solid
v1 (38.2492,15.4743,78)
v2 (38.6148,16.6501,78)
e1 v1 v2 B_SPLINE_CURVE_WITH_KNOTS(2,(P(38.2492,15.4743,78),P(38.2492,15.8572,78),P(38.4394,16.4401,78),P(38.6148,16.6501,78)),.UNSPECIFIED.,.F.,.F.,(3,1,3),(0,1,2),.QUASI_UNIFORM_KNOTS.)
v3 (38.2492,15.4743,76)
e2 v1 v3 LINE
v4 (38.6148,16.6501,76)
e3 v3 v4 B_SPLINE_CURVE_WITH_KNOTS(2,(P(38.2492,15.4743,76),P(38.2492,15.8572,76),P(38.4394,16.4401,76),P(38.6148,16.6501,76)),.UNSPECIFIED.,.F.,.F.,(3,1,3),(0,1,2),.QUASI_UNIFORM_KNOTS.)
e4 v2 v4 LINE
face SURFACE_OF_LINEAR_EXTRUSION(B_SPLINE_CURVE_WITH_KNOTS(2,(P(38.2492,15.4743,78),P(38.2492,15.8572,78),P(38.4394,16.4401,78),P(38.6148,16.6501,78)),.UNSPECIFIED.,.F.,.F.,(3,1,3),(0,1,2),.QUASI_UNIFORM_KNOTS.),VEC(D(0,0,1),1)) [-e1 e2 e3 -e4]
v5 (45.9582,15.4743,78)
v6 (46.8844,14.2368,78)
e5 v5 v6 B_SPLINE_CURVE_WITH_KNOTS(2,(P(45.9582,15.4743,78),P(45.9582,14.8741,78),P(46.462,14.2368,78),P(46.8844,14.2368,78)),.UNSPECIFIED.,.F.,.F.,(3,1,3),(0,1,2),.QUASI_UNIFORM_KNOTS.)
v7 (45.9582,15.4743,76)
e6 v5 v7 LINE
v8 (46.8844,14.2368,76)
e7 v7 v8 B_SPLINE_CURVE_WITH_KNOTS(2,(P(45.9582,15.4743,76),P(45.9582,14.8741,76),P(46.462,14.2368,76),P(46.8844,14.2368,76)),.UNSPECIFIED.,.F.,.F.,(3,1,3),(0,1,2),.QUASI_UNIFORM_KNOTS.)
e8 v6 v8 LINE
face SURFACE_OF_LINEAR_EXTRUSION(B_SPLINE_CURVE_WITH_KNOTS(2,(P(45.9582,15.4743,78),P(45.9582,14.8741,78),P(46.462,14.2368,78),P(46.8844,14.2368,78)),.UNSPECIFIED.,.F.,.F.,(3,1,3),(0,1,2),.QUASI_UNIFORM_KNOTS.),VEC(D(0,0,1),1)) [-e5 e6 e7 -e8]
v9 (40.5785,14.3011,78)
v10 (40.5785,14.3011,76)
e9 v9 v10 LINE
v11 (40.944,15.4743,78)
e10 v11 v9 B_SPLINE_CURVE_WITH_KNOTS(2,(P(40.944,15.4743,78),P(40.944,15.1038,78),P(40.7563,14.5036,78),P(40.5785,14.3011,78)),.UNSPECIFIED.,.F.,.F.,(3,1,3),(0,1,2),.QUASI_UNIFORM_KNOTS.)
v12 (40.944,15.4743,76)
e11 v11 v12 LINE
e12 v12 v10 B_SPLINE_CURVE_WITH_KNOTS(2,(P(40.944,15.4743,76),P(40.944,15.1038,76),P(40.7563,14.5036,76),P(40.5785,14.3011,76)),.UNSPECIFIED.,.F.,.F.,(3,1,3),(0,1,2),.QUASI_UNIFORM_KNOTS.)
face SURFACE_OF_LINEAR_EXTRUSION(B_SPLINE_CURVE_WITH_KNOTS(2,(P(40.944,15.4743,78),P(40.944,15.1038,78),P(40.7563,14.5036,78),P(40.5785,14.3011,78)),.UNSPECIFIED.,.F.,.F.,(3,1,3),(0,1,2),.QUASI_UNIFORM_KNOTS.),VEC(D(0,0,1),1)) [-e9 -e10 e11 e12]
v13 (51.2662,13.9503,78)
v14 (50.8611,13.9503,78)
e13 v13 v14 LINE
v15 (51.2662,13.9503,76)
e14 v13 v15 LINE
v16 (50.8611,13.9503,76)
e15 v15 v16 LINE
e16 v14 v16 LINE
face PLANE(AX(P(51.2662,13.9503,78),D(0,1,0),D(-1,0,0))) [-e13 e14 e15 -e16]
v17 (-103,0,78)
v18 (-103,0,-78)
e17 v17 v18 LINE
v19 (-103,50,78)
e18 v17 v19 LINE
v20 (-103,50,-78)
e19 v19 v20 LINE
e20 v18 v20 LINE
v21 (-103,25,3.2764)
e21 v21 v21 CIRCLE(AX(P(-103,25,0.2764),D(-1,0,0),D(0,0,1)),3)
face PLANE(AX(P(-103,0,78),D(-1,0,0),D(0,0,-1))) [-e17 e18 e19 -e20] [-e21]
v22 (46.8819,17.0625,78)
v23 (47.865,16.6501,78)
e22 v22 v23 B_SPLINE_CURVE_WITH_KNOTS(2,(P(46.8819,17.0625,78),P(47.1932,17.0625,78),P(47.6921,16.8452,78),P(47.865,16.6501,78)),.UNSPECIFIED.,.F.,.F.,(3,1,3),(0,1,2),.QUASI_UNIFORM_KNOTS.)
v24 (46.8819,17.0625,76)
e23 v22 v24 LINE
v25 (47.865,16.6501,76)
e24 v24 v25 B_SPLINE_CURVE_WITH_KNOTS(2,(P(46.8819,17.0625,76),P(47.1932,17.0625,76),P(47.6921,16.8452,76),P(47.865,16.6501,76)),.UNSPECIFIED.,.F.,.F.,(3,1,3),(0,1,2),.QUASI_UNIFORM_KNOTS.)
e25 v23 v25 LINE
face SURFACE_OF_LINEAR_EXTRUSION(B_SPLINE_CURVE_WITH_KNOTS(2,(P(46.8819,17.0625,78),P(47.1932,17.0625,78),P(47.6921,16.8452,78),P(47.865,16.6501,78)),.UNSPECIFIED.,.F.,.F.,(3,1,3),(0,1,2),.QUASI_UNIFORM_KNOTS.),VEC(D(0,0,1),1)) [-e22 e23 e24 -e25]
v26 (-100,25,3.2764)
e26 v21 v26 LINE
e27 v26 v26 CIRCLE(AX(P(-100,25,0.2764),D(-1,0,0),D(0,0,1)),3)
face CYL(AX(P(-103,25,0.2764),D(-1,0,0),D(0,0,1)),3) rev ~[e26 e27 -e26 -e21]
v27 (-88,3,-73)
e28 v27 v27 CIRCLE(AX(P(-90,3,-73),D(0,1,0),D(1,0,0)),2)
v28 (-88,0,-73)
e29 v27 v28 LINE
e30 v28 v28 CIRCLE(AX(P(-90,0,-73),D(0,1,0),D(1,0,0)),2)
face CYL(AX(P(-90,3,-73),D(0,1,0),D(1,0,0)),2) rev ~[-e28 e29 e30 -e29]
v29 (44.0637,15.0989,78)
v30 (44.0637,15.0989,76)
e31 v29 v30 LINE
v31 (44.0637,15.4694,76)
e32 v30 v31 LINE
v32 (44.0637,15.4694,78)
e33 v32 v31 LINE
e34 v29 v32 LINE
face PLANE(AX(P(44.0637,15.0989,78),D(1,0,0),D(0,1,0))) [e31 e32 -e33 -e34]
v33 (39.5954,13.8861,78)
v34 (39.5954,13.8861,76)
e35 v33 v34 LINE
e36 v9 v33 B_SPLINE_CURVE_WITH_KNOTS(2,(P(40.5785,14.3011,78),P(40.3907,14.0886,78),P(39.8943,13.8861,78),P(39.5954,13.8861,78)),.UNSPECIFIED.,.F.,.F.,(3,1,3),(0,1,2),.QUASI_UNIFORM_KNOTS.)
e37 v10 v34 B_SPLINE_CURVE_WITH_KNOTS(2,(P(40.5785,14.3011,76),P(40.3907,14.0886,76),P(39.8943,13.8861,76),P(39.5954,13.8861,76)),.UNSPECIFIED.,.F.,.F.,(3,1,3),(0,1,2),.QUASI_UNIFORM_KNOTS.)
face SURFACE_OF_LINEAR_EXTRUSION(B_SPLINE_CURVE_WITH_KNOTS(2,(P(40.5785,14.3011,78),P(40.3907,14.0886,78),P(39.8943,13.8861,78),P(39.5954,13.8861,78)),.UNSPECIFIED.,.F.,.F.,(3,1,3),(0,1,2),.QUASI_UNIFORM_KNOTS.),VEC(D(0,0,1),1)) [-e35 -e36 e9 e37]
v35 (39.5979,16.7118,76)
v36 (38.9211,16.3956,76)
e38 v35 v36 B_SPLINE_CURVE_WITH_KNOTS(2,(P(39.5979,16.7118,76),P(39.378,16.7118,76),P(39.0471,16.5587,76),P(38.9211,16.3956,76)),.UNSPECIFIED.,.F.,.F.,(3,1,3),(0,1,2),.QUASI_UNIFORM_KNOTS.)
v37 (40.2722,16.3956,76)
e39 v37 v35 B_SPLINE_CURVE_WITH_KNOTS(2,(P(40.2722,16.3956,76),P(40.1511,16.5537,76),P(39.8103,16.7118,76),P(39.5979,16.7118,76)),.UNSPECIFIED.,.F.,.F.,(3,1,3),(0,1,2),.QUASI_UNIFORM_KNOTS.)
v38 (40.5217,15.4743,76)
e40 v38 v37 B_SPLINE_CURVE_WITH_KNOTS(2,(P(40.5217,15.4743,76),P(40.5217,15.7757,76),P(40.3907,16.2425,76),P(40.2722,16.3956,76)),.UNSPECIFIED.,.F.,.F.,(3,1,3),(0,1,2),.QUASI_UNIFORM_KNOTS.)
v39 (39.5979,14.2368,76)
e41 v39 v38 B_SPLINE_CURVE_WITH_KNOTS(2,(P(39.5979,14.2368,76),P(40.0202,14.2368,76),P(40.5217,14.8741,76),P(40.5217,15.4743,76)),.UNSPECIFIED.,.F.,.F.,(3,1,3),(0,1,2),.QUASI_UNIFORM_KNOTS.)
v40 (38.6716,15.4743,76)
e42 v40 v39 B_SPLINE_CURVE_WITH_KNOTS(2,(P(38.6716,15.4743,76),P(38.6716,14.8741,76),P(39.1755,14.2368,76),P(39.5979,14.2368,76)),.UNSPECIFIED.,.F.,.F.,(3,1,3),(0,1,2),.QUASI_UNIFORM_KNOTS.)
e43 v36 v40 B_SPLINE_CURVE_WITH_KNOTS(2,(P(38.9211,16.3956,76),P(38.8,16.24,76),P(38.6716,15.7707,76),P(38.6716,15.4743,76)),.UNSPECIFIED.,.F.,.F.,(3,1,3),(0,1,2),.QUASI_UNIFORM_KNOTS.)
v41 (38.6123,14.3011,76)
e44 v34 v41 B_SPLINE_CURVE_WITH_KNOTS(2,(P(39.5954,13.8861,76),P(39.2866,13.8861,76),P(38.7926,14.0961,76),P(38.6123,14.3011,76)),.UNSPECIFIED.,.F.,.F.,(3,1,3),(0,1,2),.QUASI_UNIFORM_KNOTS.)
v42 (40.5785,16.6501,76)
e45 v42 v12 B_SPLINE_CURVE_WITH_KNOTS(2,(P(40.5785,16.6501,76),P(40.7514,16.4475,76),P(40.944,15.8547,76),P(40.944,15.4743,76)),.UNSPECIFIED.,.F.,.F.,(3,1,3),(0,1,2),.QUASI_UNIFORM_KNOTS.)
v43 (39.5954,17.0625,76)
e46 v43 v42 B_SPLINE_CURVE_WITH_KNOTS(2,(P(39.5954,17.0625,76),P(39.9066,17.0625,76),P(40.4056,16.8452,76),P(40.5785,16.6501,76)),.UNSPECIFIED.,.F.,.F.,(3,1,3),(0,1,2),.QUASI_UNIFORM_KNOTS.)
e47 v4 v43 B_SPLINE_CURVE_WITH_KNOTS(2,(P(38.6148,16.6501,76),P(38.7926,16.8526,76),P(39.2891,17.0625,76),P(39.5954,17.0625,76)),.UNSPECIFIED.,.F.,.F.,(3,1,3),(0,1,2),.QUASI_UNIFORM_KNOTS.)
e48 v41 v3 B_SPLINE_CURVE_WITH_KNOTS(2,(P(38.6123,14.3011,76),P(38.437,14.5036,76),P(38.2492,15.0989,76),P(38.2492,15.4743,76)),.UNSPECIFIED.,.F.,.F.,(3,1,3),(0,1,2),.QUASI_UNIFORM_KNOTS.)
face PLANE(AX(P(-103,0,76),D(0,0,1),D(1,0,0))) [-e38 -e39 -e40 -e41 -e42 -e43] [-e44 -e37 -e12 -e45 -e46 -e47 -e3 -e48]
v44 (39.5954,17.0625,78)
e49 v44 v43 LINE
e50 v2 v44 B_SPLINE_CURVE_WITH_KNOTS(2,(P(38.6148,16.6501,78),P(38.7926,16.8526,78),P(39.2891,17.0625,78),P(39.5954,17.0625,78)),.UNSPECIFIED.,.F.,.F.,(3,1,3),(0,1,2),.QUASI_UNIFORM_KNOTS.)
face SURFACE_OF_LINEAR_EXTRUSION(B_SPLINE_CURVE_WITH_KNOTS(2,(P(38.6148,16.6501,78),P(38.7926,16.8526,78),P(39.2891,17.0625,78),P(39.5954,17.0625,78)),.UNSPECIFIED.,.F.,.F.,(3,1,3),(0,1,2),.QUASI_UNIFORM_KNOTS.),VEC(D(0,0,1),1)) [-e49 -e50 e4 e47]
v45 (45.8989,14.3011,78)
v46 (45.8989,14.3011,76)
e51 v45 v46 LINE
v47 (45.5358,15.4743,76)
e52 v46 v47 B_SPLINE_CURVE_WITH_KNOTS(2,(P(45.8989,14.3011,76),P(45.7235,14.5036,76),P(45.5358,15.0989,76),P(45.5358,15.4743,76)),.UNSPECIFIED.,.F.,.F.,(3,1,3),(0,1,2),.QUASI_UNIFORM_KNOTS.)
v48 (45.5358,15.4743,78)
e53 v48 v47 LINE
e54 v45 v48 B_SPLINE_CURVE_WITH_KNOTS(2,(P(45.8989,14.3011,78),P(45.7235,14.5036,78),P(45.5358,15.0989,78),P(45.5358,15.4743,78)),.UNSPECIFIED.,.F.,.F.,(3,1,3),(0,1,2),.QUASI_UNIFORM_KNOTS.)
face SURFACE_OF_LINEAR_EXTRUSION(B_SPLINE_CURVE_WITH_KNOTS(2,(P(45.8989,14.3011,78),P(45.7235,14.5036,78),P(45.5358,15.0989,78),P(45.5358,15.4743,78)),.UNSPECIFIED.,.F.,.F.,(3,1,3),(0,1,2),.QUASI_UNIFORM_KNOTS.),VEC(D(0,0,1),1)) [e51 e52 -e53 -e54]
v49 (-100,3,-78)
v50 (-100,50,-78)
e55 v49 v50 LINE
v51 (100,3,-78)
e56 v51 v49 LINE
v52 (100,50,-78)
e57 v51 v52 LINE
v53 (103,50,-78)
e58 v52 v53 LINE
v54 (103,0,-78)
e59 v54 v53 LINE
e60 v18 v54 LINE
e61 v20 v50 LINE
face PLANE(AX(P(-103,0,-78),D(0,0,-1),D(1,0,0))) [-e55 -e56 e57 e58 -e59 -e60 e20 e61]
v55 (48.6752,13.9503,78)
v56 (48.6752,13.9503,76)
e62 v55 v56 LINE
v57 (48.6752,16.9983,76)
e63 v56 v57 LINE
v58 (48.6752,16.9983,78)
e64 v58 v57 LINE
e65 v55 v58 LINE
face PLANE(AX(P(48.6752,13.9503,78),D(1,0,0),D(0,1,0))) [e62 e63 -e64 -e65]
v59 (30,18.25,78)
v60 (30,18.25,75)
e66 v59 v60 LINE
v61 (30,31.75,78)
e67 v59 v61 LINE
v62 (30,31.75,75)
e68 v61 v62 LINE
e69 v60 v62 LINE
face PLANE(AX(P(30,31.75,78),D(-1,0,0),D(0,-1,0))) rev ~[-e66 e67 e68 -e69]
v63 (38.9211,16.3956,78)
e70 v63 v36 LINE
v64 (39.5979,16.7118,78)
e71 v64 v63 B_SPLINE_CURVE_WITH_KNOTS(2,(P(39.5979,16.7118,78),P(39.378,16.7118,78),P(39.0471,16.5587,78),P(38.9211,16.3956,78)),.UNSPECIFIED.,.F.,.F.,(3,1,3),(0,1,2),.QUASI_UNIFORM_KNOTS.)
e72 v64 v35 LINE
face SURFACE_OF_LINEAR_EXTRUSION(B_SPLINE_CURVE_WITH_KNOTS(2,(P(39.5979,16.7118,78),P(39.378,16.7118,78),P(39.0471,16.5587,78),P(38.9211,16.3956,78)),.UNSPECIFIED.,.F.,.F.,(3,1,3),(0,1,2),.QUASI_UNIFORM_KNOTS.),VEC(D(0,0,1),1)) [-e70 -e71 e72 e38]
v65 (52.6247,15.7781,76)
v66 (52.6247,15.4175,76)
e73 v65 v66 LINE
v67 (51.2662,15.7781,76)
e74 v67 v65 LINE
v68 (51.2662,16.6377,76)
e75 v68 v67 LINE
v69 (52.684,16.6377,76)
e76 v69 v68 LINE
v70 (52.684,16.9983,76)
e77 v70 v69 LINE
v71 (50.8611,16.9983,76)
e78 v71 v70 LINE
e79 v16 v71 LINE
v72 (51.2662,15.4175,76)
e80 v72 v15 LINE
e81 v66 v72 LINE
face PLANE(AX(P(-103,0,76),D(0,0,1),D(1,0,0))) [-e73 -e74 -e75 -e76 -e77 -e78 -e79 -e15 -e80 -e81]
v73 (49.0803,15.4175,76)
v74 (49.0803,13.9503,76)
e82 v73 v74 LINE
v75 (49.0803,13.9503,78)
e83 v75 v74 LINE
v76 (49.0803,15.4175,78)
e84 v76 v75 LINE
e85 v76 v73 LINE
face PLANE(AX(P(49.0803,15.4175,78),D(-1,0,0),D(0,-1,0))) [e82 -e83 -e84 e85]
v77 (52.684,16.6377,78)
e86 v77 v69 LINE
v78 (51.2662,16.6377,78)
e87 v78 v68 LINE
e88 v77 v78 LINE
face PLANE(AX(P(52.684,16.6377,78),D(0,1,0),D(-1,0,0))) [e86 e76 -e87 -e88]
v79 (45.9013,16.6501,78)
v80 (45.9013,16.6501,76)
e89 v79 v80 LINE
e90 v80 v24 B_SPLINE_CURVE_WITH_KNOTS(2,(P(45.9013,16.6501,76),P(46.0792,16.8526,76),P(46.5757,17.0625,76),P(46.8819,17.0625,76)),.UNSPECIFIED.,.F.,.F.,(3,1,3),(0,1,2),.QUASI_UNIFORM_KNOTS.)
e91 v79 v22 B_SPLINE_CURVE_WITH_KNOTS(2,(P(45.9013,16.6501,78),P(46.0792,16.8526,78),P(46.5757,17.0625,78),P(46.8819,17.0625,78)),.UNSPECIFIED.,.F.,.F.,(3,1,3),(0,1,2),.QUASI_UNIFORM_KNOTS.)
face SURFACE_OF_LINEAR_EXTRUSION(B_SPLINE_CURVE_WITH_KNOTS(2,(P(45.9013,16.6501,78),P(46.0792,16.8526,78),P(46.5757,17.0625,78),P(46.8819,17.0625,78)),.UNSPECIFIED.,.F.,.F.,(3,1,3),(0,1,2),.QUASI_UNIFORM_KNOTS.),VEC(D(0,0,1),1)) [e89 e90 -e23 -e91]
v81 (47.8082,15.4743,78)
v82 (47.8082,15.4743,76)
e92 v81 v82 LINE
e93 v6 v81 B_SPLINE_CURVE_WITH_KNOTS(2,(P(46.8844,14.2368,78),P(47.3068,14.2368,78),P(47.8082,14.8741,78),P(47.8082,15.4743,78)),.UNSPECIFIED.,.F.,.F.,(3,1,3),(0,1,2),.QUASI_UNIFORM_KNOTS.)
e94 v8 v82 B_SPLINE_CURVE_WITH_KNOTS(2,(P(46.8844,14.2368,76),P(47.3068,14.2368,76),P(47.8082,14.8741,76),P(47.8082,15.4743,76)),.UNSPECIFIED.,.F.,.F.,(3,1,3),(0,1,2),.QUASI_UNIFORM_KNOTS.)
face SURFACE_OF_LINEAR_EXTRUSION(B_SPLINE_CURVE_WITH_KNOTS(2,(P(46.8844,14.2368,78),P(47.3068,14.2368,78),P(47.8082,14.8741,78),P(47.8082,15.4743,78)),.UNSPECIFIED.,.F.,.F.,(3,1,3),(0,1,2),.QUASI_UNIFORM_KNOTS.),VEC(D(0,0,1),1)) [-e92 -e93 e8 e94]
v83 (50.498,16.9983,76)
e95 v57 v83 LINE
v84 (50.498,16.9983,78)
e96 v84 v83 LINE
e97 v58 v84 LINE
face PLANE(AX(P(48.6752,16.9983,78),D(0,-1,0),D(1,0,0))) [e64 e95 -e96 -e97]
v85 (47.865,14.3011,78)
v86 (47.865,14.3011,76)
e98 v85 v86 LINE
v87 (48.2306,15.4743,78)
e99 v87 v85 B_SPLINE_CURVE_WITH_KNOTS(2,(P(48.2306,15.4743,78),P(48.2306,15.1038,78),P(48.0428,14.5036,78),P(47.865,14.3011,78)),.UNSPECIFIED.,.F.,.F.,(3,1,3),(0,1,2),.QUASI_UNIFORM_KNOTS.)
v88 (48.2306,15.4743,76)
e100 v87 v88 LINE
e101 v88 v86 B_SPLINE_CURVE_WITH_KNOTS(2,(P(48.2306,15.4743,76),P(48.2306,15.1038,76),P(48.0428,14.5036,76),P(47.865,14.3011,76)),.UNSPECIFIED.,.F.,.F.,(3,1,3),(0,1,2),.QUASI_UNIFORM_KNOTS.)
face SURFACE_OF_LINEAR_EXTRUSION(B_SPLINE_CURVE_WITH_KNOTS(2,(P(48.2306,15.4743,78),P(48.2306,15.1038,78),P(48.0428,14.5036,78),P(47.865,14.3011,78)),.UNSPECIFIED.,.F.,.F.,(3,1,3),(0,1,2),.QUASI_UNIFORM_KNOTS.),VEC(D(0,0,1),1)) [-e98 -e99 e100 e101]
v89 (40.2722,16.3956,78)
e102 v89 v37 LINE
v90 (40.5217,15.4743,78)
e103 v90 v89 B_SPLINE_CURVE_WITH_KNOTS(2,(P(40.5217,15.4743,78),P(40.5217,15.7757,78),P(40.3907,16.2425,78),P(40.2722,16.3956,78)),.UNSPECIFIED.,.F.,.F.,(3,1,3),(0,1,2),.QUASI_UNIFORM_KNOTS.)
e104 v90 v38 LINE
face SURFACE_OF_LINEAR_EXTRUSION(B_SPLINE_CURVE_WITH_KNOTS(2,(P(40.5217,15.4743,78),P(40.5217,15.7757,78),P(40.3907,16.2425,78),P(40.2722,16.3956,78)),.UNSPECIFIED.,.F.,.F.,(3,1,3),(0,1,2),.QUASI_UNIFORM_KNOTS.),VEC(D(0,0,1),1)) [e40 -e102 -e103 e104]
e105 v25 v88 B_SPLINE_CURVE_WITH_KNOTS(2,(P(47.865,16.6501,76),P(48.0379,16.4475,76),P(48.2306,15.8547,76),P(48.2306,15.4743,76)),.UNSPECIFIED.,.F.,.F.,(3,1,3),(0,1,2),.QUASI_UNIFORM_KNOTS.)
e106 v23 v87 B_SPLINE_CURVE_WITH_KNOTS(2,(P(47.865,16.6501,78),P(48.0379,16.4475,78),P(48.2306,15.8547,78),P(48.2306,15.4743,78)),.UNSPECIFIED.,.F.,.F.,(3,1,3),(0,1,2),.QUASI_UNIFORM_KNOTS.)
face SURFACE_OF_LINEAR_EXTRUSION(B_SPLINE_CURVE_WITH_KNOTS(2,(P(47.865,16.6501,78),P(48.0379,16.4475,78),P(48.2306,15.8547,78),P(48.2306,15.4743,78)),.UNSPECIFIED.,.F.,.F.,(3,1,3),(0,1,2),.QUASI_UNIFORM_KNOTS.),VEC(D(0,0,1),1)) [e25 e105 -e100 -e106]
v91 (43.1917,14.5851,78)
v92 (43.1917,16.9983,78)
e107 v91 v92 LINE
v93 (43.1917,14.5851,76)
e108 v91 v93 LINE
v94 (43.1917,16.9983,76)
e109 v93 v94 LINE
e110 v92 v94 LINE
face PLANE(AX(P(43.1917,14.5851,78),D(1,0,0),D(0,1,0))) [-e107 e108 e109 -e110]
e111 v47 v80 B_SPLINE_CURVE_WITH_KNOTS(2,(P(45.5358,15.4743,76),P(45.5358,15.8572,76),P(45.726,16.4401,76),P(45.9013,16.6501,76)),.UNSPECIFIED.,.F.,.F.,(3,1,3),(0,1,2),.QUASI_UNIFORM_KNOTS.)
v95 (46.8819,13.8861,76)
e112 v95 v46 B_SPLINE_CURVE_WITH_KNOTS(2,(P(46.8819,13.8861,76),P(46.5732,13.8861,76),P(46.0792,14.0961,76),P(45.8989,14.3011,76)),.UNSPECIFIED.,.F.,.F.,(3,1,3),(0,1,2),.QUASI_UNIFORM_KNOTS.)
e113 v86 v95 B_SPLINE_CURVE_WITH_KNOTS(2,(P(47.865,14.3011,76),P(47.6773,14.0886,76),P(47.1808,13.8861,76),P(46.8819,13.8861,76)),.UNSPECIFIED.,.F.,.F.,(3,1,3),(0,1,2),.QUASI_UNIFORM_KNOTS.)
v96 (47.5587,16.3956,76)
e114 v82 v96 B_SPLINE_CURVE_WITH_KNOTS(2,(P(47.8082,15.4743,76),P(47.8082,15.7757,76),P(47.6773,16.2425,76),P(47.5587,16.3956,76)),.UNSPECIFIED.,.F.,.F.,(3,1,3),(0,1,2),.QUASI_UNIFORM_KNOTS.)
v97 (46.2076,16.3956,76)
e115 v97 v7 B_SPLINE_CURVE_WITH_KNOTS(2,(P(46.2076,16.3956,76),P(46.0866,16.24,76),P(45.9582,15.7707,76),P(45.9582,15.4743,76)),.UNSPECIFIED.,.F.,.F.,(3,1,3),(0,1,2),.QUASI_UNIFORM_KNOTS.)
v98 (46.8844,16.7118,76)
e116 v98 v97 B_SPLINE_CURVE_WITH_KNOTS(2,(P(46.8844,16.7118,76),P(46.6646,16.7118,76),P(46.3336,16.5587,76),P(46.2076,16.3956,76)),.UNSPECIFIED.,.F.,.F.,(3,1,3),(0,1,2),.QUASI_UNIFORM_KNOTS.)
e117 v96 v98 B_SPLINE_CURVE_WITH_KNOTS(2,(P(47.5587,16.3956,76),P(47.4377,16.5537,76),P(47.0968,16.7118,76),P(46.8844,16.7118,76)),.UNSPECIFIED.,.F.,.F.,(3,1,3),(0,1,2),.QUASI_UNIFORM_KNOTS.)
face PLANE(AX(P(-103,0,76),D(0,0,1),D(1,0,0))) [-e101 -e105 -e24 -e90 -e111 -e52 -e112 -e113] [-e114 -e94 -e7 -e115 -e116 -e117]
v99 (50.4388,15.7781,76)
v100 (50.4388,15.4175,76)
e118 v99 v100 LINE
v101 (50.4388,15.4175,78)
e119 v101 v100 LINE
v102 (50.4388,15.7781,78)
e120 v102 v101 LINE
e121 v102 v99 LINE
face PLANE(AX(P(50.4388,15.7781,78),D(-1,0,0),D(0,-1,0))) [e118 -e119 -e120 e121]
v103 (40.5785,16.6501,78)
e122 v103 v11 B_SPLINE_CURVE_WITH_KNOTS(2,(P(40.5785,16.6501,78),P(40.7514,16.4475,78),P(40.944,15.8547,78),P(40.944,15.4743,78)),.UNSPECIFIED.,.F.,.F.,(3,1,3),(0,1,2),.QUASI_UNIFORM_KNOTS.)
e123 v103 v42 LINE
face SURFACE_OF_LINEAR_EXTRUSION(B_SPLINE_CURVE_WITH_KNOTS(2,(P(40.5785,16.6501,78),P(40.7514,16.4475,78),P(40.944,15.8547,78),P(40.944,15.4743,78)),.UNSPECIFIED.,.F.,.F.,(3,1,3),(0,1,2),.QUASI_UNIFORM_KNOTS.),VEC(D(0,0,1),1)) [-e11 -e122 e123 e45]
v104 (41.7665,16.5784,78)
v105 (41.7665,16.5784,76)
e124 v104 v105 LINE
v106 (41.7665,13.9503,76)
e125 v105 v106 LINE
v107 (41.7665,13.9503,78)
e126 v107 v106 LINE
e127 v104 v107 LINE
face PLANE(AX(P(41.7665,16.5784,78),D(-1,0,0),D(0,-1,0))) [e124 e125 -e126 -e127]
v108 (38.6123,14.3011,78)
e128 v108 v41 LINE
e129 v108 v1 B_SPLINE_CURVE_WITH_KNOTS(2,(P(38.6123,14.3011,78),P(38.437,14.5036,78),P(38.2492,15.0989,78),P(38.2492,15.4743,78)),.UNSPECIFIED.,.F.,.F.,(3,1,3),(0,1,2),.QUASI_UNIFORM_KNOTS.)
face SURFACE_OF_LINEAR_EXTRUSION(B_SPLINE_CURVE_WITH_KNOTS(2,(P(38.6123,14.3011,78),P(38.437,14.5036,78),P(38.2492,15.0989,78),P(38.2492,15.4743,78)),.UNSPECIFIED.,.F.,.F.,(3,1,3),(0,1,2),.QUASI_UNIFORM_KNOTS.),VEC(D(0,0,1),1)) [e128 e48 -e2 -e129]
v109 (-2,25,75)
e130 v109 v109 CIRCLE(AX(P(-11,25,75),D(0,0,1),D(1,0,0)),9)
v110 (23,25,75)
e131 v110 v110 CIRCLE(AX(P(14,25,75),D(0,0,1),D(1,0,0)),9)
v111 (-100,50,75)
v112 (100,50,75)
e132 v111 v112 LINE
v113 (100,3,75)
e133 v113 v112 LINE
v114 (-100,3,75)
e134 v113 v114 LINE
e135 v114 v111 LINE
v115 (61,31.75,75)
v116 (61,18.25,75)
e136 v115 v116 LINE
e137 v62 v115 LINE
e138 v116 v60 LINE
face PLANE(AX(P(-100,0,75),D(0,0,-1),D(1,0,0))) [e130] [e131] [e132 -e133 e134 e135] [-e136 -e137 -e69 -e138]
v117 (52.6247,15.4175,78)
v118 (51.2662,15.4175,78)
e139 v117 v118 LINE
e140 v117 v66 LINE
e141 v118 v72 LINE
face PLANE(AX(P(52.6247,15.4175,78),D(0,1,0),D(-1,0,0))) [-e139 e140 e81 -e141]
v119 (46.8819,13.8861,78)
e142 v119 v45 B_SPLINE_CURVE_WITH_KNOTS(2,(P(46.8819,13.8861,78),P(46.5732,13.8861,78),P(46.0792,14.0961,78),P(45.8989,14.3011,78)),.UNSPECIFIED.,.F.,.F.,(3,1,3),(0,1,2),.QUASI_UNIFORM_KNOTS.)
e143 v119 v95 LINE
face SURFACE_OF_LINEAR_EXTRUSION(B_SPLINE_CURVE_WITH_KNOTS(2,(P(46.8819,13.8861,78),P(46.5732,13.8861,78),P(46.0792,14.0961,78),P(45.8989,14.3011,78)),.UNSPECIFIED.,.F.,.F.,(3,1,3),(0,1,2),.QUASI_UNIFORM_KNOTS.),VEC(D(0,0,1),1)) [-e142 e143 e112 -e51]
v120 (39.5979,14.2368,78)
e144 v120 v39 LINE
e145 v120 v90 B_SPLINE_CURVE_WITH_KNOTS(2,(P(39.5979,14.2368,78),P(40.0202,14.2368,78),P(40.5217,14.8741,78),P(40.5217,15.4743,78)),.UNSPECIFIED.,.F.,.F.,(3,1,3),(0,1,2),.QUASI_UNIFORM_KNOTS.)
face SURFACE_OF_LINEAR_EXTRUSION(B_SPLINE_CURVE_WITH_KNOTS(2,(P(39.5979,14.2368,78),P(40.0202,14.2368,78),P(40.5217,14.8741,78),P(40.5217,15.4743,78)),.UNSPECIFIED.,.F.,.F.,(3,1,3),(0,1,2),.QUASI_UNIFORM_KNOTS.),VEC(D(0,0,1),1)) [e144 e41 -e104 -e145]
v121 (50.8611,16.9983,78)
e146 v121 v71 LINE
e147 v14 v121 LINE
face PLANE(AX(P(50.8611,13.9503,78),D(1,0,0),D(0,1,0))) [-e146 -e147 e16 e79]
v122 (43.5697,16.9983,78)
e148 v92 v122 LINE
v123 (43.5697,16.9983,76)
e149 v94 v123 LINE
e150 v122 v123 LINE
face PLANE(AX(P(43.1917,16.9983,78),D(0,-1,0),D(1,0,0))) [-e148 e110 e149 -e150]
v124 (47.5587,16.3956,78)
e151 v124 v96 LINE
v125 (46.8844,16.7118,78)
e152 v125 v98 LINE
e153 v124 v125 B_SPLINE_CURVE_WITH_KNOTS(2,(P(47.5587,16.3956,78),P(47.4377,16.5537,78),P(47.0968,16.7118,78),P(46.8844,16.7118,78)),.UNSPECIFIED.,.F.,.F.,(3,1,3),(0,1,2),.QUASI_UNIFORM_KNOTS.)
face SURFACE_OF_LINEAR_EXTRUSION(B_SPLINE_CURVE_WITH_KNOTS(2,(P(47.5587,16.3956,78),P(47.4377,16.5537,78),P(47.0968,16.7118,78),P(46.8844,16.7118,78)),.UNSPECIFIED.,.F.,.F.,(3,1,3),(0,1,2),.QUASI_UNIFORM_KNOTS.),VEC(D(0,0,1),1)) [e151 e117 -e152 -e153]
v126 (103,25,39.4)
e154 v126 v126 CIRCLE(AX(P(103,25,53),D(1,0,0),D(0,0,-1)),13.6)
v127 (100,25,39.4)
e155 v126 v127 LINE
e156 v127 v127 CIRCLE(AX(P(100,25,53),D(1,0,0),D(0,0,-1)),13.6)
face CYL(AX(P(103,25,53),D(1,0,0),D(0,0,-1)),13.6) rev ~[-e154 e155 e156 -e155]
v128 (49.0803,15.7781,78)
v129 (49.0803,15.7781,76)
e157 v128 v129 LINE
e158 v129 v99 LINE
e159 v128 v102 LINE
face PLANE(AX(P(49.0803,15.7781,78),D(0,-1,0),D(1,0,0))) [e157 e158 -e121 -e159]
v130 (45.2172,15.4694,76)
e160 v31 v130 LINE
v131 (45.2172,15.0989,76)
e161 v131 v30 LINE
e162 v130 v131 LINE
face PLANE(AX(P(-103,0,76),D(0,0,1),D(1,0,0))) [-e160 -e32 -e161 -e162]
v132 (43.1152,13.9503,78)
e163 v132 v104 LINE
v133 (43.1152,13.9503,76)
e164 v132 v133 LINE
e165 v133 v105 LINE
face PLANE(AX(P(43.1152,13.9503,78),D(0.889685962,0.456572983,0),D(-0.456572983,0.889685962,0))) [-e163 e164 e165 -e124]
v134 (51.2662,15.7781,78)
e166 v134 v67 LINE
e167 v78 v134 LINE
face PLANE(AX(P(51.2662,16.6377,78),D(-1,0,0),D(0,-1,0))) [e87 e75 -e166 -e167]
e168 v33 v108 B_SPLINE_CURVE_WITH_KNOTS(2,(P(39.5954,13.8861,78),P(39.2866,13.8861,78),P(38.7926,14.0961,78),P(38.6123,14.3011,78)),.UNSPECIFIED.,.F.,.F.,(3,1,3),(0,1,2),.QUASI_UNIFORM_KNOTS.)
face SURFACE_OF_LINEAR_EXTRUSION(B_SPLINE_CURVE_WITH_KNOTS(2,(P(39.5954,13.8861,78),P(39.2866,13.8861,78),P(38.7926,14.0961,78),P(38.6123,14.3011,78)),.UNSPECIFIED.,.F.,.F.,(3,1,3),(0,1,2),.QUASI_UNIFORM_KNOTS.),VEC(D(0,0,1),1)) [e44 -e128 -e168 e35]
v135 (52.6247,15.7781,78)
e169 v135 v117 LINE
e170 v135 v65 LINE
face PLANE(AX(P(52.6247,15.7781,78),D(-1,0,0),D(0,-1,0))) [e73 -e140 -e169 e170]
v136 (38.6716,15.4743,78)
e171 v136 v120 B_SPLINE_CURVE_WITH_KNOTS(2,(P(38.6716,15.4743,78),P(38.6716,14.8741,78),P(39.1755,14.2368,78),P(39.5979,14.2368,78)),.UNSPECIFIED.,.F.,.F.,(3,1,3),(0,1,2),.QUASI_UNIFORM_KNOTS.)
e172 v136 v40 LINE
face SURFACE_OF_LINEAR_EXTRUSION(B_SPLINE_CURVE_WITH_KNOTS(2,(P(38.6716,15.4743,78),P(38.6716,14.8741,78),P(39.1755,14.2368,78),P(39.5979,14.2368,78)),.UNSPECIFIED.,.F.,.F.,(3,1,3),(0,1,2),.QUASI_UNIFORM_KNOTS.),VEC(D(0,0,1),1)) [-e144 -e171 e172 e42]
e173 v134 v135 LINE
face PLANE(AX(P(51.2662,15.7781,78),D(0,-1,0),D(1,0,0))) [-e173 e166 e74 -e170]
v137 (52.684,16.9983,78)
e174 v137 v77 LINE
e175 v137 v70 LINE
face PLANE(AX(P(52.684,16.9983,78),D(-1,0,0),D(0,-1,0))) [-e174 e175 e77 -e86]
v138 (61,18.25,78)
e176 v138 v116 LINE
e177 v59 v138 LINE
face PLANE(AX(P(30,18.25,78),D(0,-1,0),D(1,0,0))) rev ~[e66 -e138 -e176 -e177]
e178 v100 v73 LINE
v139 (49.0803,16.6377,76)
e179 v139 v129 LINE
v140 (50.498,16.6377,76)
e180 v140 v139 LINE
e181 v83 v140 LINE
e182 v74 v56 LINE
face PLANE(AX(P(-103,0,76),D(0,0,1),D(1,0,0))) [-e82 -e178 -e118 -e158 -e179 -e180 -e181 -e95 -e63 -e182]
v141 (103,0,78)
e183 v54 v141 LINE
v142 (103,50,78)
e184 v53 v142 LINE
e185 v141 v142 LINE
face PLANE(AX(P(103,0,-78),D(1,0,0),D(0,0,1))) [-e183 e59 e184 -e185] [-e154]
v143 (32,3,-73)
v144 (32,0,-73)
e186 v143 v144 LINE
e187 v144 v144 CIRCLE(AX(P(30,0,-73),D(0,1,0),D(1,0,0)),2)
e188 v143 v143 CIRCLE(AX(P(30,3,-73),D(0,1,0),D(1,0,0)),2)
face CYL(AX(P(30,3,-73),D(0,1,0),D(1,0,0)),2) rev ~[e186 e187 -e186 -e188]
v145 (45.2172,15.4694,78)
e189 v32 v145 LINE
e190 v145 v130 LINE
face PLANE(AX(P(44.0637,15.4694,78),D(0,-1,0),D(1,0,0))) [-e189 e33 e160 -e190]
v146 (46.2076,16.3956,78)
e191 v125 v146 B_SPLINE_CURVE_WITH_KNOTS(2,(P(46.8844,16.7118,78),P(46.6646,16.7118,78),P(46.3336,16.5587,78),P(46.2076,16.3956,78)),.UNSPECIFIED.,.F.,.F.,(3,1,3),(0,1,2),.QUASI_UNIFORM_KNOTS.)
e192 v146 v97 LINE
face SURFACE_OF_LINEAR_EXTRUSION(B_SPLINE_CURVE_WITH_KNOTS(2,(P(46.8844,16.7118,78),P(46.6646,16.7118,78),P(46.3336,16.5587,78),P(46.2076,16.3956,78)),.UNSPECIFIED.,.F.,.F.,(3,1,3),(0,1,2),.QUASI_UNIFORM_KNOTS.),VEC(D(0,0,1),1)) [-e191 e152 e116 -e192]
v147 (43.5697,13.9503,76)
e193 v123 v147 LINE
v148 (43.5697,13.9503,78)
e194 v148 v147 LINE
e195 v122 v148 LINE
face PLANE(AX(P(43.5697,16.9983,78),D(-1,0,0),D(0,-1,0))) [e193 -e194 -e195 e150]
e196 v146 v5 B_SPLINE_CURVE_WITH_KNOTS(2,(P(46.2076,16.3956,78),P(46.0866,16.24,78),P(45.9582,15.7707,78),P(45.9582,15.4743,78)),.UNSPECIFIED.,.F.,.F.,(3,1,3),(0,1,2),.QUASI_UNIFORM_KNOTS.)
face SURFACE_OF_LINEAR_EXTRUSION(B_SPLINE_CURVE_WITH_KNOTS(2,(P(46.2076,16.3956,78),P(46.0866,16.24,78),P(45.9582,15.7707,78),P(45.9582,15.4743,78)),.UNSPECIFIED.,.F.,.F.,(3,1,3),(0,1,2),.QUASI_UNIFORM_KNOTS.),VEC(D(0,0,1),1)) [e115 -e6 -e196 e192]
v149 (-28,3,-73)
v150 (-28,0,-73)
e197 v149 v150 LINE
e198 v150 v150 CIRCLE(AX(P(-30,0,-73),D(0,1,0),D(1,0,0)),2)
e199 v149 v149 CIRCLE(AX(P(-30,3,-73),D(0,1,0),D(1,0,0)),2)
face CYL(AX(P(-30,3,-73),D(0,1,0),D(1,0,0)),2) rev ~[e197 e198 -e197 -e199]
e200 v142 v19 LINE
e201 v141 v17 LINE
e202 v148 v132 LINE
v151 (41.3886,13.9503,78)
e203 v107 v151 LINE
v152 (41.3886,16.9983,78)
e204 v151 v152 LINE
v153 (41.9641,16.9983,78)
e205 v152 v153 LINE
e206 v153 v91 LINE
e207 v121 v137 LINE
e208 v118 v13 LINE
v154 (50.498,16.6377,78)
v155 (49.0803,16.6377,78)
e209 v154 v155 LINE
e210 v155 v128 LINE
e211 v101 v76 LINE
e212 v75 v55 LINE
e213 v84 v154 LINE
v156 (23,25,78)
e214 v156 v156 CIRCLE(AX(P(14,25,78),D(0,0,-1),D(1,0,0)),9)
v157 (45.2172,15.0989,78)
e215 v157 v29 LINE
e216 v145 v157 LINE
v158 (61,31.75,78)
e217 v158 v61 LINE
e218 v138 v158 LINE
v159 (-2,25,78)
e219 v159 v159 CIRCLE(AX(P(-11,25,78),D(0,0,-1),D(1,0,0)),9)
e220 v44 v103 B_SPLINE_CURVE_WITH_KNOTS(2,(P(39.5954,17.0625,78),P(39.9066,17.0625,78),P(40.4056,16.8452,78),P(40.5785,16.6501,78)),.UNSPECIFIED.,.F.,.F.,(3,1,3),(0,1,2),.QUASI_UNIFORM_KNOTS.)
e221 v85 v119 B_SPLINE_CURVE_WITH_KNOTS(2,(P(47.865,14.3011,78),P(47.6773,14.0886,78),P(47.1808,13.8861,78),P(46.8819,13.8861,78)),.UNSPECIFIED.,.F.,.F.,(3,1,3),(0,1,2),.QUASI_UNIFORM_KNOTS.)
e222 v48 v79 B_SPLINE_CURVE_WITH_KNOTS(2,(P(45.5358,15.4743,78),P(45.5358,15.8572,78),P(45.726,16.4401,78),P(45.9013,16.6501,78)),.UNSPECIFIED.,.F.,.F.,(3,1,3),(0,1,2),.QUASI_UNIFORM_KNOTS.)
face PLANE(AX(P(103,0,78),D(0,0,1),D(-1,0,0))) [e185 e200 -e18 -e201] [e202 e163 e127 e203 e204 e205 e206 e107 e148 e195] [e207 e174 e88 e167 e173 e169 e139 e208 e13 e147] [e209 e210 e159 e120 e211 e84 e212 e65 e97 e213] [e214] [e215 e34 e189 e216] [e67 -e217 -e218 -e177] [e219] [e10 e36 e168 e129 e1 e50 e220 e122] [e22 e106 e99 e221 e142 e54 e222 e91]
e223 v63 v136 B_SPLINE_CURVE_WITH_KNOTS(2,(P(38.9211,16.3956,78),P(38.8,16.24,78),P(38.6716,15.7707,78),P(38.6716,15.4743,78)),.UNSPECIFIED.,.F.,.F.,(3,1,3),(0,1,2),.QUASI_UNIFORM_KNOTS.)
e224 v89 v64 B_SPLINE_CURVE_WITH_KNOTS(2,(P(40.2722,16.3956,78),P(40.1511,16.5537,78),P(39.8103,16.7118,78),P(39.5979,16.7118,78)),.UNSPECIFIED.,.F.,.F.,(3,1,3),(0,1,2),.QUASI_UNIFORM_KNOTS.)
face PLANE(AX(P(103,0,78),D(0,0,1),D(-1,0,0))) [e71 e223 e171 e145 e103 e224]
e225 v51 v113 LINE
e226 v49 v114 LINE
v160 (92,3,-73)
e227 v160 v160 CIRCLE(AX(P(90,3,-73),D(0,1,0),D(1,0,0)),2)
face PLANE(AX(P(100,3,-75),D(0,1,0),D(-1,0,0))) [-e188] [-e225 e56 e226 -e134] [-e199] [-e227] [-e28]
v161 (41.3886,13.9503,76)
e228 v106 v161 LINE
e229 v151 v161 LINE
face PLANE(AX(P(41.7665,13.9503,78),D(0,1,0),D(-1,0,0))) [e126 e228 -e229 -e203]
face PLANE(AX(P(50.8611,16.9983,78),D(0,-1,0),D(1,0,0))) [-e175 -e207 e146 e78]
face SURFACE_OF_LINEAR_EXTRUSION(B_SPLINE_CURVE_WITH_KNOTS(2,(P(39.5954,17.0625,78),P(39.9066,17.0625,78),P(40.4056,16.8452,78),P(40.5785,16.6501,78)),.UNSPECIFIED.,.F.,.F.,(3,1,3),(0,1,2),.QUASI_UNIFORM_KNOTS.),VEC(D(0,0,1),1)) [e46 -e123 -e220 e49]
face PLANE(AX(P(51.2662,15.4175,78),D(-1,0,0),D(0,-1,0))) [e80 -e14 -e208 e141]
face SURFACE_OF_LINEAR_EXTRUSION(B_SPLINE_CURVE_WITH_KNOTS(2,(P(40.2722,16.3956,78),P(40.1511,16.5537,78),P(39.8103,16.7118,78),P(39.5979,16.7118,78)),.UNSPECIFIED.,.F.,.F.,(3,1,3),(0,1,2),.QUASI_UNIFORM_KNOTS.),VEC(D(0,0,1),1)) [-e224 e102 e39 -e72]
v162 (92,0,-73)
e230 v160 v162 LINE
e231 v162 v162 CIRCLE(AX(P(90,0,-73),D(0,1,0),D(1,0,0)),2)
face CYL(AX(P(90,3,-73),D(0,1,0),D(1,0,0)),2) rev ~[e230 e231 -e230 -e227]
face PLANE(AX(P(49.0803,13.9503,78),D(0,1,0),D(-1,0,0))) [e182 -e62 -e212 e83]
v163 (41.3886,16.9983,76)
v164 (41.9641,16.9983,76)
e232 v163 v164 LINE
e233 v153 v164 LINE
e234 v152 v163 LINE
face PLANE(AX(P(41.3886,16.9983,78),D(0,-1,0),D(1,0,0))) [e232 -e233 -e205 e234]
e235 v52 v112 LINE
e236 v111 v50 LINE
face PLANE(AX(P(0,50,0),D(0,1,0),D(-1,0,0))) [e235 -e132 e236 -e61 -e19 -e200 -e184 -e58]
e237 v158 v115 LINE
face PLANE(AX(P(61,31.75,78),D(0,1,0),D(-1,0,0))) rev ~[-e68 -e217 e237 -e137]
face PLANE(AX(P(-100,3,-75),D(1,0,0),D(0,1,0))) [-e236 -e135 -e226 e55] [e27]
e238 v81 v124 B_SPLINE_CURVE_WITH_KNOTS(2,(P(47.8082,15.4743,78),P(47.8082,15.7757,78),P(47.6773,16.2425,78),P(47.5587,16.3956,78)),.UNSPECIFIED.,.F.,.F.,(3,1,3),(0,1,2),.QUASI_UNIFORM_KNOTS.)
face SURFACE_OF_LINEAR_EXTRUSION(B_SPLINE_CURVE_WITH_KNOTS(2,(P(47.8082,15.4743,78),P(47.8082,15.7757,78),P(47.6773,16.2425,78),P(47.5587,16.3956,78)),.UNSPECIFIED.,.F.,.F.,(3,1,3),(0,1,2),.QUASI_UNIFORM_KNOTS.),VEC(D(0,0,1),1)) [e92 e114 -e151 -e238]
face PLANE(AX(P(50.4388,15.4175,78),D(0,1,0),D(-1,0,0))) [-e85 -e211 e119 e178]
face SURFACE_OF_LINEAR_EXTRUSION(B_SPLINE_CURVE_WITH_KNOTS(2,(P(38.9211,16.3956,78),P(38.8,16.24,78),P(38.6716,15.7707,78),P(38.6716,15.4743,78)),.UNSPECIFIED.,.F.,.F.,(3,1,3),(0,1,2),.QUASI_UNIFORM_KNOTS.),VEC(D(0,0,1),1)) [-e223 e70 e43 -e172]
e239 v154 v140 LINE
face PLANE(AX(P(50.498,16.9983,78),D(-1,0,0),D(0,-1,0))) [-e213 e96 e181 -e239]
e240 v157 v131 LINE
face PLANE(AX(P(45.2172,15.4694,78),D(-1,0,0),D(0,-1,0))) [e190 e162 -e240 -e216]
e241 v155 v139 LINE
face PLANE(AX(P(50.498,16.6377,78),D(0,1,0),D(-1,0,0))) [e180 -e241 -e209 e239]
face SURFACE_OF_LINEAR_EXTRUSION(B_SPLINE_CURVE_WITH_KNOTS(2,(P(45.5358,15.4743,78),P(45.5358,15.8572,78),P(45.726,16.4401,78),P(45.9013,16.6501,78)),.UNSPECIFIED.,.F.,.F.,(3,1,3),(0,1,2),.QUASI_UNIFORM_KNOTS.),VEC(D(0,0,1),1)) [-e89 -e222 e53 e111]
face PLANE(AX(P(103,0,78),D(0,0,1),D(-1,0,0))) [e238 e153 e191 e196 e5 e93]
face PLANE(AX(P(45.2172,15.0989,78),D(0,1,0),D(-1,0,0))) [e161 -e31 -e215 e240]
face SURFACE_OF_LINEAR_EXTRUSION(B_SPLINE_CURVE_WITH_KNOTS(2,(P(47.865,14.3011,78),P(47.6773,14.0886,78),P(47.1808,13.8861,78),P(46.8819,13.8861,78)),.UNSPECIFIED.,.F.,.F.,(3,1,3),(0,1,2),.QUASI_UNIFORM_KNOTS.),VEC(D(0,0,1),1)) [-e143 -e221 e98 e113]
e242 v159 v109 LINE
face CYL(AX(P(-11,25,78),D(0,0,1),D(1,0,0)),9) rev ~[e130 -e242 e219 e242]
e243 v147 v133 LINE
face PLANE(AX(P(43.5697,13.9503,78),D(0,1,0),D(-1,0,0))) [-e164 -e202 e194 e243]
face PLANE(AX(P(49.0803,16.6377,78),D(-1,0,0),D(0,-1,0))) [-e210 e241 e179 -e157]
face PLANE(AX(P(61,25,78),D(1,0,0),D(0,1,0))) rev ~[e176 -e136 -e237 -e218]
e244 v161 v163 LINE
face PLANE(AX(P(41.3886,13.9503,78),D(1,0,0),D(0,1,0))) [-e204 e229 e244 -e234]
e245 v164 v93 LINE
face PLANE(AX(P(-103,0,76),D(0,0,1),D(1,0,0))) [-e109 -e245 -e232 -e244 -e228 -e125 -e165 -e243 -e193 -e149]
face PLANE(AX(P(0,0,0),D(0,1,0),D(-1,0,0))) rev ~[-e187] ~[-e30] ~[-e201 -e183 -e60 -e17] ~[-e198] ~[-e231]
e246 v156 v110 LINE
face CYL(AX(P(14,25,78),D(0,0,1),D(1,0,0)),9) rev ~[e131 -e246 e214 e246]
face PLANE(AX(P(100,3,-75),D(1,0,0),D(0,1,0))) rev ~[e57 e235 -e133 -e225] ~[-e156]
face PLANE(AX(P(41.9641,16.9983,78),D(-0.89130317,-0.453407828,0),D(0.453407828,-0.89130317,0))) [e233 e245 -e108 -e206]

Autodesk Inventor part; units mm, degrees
ref_plane "YZ Plane" through (0, 0, 0) normal (1, 0, 0) x (0, 1, 0)
ref_plane "XZ Plane" through (0, 0, 0) normal (0, 1, 0) x (-1, 0, 0)
ref_plane "XY Plane" through (0, 0, 0) normal (0, 0, 1) x (1, 0, 0)
sketch "Boceto1" plane through (0, 0, 0) normal (0, 1, 0) x (-1, 0, 0)
  line L0 (-100, 75) -> (100, 75)
  line L1 (100, 75) -> (100, -75)
  line L2 (100, -75) -> (-100, -75)
  line L3 (-100, -75) -> (-100, 75)
  line L4 (-100, 75) -> (100, -75) construction
  line L5 (100, 75) -> (-100, -75) construction
  point P0 (0, 0)
  dimension "d0" = 200
  dimension "d1" = 150
extrude "Extrusión1" add sketch "Boceto1" along normal blind 3
sketch "Boceto2" plane through (0, 0, 0) normal (0, 1, 0) x (-1, 0, 0)
  line L0 (-100, -75) -> (100, -75) projected
  line L1 (100, -75) -> (100, 75) projected
  line L2 (100, 75) -> (-100, 75) projected
  line L3 (-100, 75) -> (-100, -75) projected
  line L4 (103, 78) -> (103, -78)
  line L5 (103, -78) -> (-103, -78)
  line L6 (-103, -78) -> (-103, 78)
  line L7 (-103, 78) -> (103, 78)
  point P0 (0, 0)
  dimension "d4" = 3
extrude "Extrusión2" add sketch "Boceto2" along normal blind 50
sketch "Boceto3" plane through (-103, 0, -78) normal (-1, 0, 0) x (0, 0, 1)
  line L0 (78, 0) -> (78, 50) construction
  line L1 (3, 50) -> (153, 50) construction
  line L2 (156, 0) -> (156, 50) construction
  line L3 (156, 25) -> (0.5528, 25) construction
  circle A0 centre (78.2764, 25) radius 3
  line L4 (0, 0) -> (156, 0) projected
  line L5 (156, 0) -> (156, 50) projected
  line L6 (0, 50) -> (156, 50) projected
  line L7 (0, 0) -> (0, 50) projected
  line L8 (0, 0) -> (156, 0) projected
  dimension "d7" = 6
  dimension "d11" = 25
extrude "Extrusión3" cut sketch "Boceto3" against normal blind 3 contours A0
sketch "Boceto4" plane through (-103, 0, 78) normal (0, 0, 1) x (1, 0, 0)
  line L0 (0, 0) -> (206, 0) projected
  line L1 (0, 25) -> (206, 25)
  circle A0 centre (92, 25) radius 9
  circle A1 centre (117, 25) radius 9
  line L2 (133, 18.25) -> (164, 18.25)
  line L3 (164, 18.25) -> (164, 31.75)
  line L4 (164, 31.75) -> (133, 31.75)
  line L5 (133, 31.75) -> (133, 18.25)
  line L6 (133, 18.25) -> (164, 31.75) construction
  line L7 (164, 18.25) -> (133, 31.75) construction
  line L8 (206, 0) -> (206, 50) projected
  line L9 (141.1134, 17.0625) -> (155.7384, 17.0625) construction
  line L10 (155.7384, 17.0625) -> (155.7384, 13.8861) construction
  line L11 (155.7384, 13.8861) -> (141.1134, 13.8861) construction
  line L12 (141.1134, 13.8861) -> (141.1134, 17.0625) construction
  spline S0 degree 2 poles (143.5785, 16.6501) (143.7514, 16.4475) (143.944, 15.8547) (143.944, 15.4743) knots 0 0 0 1 2 2 2
  spline S1 degree 2 poles (143.944, 15.4743) (143.944, 15.1038) (143.7563, 14.5036) (143.5785, 14.3011) knots 0 0 0 1 2 2 2
  spline S2 degree 2 poles (143.5785, 14.3011) (143.3907, 14.0886) (142.8943, 13.8861) (142.5954, 13.8861) knots 0 0 0 1 2 2 2
  spline S3 degree 2 poles (142.5954, 13.8861) (142.2866, 13.8861) (141.7926, 14.0961) (141.6123, 14.3011) knots 0 0 0 1 2 2 2
  spline S4 degree 2 poles (141.6123, 14.3011) (141.437, 14.5036) (141.2492, 15.0989) (141.2492, 15.4743) knots 0 0 0 1 2 2 2
  spline S5 degree 2 poles (141.2492, 15.4743) (141.2492, 15.8572) (141.4394, 16.4401) (141.6148, 16.6501) knots 0 0 0 1 2 2 2
  spline S6 degree 2 poles (141.6148, 16.6501) (141.7926, 16.8526) (142.2891, 17.0625) (142.5954, 17.0625) knots 0 0 0 1 2 2 2
  spline S7 degree 2 poles (142.5954, 17.0625) (142.9066, 17.0625) (143.4056, 16.8452) (143.5785, 16.6501) knots 0 0 0 1 2 2 2
  spline S8 degree 2 poles (143.5217, 15.4743) (143.5217, 15.7757) (143.3907, 16.2425) (143.2722, 16.3956) knots 0 0 0 1 2 2 2
  spline S9 degree 2 poles (143.2722, 16.3956) (143.1511, 16.5537) (142.8103, 16.7118) (142.5979, 16.7118) knots 0 0 0 1 2 2 2
  spline S10 degree 2 poles (142.5979, 16.7118) (142.378, 16.7118) (142.0471, 16.5587) (141.9211, 16.3956) knots 0 0 0 1 2 2 2
  spline S11 degree 2 poles (141.9211, 16.3956) (141.8, 16.24) (141.6716, 15.7707) (141.6716, 15.4743) knots 0 0 0 1 2 2 2
  spline S12 degree 2 poles (141.6716, 15.4743) (141.6716, 14.8741) (142.1755, 14.2368) (142.5979, 14.2368) knots 0 0 0 1 2 2 2
  spline S13 degree 2 poles (142.5979, 14.2368) (143.0202, 14.2368) (143.5217, 14.8741) (143.5217, 15.4743) knots 0 0 0 1 2 2 2
  line L13 (146.5697, 13.9503) -> (146.1152, 13.9503)
  line L14 (146.1152, 13.9503) -> (144.7665, 16.5784)
  line L15 (144.7665, 16.5784) -> (144.7665, 13.9503)
  line L16 (144.7665, 13.9503) -> (144.3886, 13.9503)
  line L17 (144.3886, 13.9503) -> (144.3886, 16.9983)
  line L18 (144.3886, 16.9983) -> (144.9641, 16.9983)
  line L19 (144.9641, 16.9983) -> (146.1917, 14.5851)
  line L20 (146.1917, 14.5851) -> (146.1917, 16.9983)
  line L21 (146.1917, 16.9983) -> (146.5697, 16.9983)
  line L22 (146.5697, 16.9983) -> (146.5697, 13.9503)
  line L23 (148.2172, 15.0989) -> (147.0637, 15.0989)
  line L24 (147.0637, 15.0989) -> (147.0637, 15.4694)
  line L25 (147.0637, 15.4694) -> (148.2172, 15.4694)
  line L26 (148.2172, 15.4694) -> (148.2172, 15.0989)
  spline S14 degree 2 poles (150.865, 16.6501) (151.0379, 16.4475) (151.2306, 15.8547) (151.2306, 15.4743) knots 0 0 0 1 2 2 2
  spline S15 degree 2 poles (151.2306, 15.4743) (151.2306, 15.1038) (151.0428, 14.5036) (150.865, 14.3011) knots 0 0 0 1 2 2 2
  spline S16 degree 2 poles (150.865, 14.3011) (150.6773, 14.0886) (150.1808, 13.8861) (149.8819, 13.8861) knots 0 0 0 1 2 2 2
  spline S17 degree 2 poles (149.8819, 13.8861) (149.5732, 13.8861) (149.0792, 14.0961) (148.8989, 14.3011) knots 0 0 0 1 2 2 2
  spline S18 degree 2 poles (148.8989, 14.3011) (148.7235, 14.5036) (148.5358, 15.0989) (148.5358, 15.4743) knots 0 0 0 1 2 2 2
  spline S19 degree 2 poles (148.5358, 15.4743) (148.5358, 15.8572) (148.726, 16.4401) (148.9013, 16.6501) knots 0 0 0 1 2 2 2
  spline S20 degree 2 poles (148.9013, 16.6501) (149.0792, 16.8526) (149.5757, 17.0625) (149.8819, 17.0625) knots 0 0 0 1 2 2 2
  spline S21 degree 2 poles (149.8819, 17.0625) (150.1932, 17.0625) (150.6921, 16.8452) (150.865, 16.6501) knots 0 0 0 1 2 2 2
  spline S22 degree 2 poles (150.8082, 15.4743) (150.8082, 15.7757) (150.6773, 16.2425) (150.5587, 16.3956) knots 0 0 0 1 2 2 2
  spline S23 degree 2 poles (150.5587, 16.3956) (150.4377, 16.5537) (150.0968, 16.7118) (149.8844, 16.7118) knots 0 0 0 1 2 2 2
  spline S24 degree 2 poles (149.8844, 16.7118) (149.6646, 16.7118) (149.3336, 16.5587) (149.2076, 16.3956) knots 0 0 0 1 2 2 2
  spline S25 degree 2 poles (149.2076, 16.3956) (149.0866, 16.24) (148.9582, 15.7707) (148.9582, 15.4743) knots 0 0 0 1 2 2 2
  spline S26 degree 2 poles (148.9582, 15.4743) (148.9582, 14.8741) (149.462, 14.2368) (149.8844, 14.2368) knots 0 0 0 1 2 2 2
  spline S27 degree 2 poles (149.8844, 14.2368) (150.3068, 14.2368) (150.8082, 14.8741) (150.8082, 15.4743) knots 0 0 0 1 2 2 2
  line L27 (153.498, 16.6377) -> (152.0803, 16.6377)
  line L28 (152.0803, 16.6377) -> (152.0803, 15.7781)
  line L29 (152.0803, 15.7781) -> (153.4388, 15.7781)
  line L30 (153.4388, 15.7781) -> (153.4388, 15.4175)
  line L31 (153.4388, 15.4175) -> (152.0803, 15.4175)
  line L32 (152.0803, 15.4175) -> (152.0803, 13.9503)
  line L33 (152.0803, 13.9503) -> (151.6752, 13.9503)
  line L34 (151.6752, 13.9503) -> (151.6752, 16.9983)
  line L35 (151.6752, 16.9983) -> (153.498, 16.9983)
  line L36 (153.498, 16.9983) -> (153.498, 16.6377)
  line L37 (155.684, 16.6377) -> (154.2662, 16.6377)
  line L38 (154.2662, 16.6377) -> (154.2662, 15.7781)
  line L39 (154.2662, 15.7781) -> (155.6247, 15.7781)
  line L40 (155.6247, 15.7781) -> (155.6247, 15.4175)
  line L41 (155.6247, 15.4175) -> (154.2662, 15.4175)
  line L42 (154.2662, 15.4175) -> (154.2662, 13.9503)
  line L43 (154.2662, 13.9503) -> (153.8611, 13.9503)
  line L44 (153.8611, 13.9503) -> (153.8611, 16.9983)
  line L45 (153.8611, 16.9983) -> (155.684, 16.9983)
  line L46 (155.684, 16.9983) -> (155.684, 16.6377)
  point P0 (103, 0)
  point P1 (148.5, 25)
  dimension "d0" = 200
  dimension "d1" = 150
  dimension "d10" = 25
  dimension "d12" = 18
  dimension "d13" = 18
  dimension "d14" = 31
  dimension "d15" = 13.5
  dimension "d16" = 42
  dimension "d17" = 25
  dimension "d18" = 16
extrude "Extrusión4" cut sketch "Boceto4" against normal blind 25 contours A0 L1 | L5 L4 L3 L1 | L1 L3 L2 L5 | A1 L1 | L1 A1 | L1 A0
extrude "Extrusión5" cut sketch "Boceto4" against normal blind 2 contours S0 S1 S2 S3 S4 S5 S6 S7 | L13 L14 L15 L16 L17 L18 L19 L20 L21 L22 | L23 L24 L25 L26 | S14 S15 S16 S17 S18 S19 S20 S21 | L27 L28 L29 L30 L31 L32 L33 L34 L35 L36 | L37 L38 L39 L40 L41 L42 L43 L44 L45 L46
sketch "Boceto5" plane through (-100, 3, -75) normal (0, 0, 1) x (1, 0, 0)
  line L0 (200, 0) -> (0, 0) projected
  line L1 (200, 0) -> (200, 47) projected
  line L2 (0, 47) -> (200, 47) projected
  line L3 (0, 0) -> (0, 47) projected
  point P0 (100, -3)
extrude "Extrusión6" cut sketch "Boceto5" against normal blind 3
sketch "Boceto6" plane through (0, 3, 0) normal (0, 1, 0) x (1, 0, 0)
  line L0 (-100, 78) -> (100, 78) projected
  line L1 (-100, 73) -> (100, 73) construction
  circle A0 centre (-90, 73) radius 2
  line L2 (-100, -75) -> (-100, 78) projected
  circle A1 centre (-30, 73) radius 2
  circle A2 centre (30, 73) radius 2
  circle A3 centre (90, 73) radius 2
  point P0 (0, 0)
  dimension "d25" = 5
  dimension "d26" = 4
  dimension "d27" = 10
  dimension "d30" = 60
extrude "Extrusión7" cut sketch "Boceto6" against normal blind 3
sketch "Boceto7" plane through (103, 0, 78) normal (1, 0, 0) x (0, 0, -1)
  line L0 (-0.5059, 25) -> (155.9287, 25) construction
  line L1 (156, 50) -> (3, 50) construction
  line L2 (25, 50) -> (25, 0) construction
  line L3 (0, 0) -> (0, 50) construction
  circle A0 centre (25, 25) radius 13.6
  point P0 (78, 0)
  dimension "d37" = 25
  dimension "d38" = 27.2
extrude "Extrusión8" cut sketch "Boceto7" against normal blind 3
equation "\"d19\" = d17"
properties part number "Chasis"
